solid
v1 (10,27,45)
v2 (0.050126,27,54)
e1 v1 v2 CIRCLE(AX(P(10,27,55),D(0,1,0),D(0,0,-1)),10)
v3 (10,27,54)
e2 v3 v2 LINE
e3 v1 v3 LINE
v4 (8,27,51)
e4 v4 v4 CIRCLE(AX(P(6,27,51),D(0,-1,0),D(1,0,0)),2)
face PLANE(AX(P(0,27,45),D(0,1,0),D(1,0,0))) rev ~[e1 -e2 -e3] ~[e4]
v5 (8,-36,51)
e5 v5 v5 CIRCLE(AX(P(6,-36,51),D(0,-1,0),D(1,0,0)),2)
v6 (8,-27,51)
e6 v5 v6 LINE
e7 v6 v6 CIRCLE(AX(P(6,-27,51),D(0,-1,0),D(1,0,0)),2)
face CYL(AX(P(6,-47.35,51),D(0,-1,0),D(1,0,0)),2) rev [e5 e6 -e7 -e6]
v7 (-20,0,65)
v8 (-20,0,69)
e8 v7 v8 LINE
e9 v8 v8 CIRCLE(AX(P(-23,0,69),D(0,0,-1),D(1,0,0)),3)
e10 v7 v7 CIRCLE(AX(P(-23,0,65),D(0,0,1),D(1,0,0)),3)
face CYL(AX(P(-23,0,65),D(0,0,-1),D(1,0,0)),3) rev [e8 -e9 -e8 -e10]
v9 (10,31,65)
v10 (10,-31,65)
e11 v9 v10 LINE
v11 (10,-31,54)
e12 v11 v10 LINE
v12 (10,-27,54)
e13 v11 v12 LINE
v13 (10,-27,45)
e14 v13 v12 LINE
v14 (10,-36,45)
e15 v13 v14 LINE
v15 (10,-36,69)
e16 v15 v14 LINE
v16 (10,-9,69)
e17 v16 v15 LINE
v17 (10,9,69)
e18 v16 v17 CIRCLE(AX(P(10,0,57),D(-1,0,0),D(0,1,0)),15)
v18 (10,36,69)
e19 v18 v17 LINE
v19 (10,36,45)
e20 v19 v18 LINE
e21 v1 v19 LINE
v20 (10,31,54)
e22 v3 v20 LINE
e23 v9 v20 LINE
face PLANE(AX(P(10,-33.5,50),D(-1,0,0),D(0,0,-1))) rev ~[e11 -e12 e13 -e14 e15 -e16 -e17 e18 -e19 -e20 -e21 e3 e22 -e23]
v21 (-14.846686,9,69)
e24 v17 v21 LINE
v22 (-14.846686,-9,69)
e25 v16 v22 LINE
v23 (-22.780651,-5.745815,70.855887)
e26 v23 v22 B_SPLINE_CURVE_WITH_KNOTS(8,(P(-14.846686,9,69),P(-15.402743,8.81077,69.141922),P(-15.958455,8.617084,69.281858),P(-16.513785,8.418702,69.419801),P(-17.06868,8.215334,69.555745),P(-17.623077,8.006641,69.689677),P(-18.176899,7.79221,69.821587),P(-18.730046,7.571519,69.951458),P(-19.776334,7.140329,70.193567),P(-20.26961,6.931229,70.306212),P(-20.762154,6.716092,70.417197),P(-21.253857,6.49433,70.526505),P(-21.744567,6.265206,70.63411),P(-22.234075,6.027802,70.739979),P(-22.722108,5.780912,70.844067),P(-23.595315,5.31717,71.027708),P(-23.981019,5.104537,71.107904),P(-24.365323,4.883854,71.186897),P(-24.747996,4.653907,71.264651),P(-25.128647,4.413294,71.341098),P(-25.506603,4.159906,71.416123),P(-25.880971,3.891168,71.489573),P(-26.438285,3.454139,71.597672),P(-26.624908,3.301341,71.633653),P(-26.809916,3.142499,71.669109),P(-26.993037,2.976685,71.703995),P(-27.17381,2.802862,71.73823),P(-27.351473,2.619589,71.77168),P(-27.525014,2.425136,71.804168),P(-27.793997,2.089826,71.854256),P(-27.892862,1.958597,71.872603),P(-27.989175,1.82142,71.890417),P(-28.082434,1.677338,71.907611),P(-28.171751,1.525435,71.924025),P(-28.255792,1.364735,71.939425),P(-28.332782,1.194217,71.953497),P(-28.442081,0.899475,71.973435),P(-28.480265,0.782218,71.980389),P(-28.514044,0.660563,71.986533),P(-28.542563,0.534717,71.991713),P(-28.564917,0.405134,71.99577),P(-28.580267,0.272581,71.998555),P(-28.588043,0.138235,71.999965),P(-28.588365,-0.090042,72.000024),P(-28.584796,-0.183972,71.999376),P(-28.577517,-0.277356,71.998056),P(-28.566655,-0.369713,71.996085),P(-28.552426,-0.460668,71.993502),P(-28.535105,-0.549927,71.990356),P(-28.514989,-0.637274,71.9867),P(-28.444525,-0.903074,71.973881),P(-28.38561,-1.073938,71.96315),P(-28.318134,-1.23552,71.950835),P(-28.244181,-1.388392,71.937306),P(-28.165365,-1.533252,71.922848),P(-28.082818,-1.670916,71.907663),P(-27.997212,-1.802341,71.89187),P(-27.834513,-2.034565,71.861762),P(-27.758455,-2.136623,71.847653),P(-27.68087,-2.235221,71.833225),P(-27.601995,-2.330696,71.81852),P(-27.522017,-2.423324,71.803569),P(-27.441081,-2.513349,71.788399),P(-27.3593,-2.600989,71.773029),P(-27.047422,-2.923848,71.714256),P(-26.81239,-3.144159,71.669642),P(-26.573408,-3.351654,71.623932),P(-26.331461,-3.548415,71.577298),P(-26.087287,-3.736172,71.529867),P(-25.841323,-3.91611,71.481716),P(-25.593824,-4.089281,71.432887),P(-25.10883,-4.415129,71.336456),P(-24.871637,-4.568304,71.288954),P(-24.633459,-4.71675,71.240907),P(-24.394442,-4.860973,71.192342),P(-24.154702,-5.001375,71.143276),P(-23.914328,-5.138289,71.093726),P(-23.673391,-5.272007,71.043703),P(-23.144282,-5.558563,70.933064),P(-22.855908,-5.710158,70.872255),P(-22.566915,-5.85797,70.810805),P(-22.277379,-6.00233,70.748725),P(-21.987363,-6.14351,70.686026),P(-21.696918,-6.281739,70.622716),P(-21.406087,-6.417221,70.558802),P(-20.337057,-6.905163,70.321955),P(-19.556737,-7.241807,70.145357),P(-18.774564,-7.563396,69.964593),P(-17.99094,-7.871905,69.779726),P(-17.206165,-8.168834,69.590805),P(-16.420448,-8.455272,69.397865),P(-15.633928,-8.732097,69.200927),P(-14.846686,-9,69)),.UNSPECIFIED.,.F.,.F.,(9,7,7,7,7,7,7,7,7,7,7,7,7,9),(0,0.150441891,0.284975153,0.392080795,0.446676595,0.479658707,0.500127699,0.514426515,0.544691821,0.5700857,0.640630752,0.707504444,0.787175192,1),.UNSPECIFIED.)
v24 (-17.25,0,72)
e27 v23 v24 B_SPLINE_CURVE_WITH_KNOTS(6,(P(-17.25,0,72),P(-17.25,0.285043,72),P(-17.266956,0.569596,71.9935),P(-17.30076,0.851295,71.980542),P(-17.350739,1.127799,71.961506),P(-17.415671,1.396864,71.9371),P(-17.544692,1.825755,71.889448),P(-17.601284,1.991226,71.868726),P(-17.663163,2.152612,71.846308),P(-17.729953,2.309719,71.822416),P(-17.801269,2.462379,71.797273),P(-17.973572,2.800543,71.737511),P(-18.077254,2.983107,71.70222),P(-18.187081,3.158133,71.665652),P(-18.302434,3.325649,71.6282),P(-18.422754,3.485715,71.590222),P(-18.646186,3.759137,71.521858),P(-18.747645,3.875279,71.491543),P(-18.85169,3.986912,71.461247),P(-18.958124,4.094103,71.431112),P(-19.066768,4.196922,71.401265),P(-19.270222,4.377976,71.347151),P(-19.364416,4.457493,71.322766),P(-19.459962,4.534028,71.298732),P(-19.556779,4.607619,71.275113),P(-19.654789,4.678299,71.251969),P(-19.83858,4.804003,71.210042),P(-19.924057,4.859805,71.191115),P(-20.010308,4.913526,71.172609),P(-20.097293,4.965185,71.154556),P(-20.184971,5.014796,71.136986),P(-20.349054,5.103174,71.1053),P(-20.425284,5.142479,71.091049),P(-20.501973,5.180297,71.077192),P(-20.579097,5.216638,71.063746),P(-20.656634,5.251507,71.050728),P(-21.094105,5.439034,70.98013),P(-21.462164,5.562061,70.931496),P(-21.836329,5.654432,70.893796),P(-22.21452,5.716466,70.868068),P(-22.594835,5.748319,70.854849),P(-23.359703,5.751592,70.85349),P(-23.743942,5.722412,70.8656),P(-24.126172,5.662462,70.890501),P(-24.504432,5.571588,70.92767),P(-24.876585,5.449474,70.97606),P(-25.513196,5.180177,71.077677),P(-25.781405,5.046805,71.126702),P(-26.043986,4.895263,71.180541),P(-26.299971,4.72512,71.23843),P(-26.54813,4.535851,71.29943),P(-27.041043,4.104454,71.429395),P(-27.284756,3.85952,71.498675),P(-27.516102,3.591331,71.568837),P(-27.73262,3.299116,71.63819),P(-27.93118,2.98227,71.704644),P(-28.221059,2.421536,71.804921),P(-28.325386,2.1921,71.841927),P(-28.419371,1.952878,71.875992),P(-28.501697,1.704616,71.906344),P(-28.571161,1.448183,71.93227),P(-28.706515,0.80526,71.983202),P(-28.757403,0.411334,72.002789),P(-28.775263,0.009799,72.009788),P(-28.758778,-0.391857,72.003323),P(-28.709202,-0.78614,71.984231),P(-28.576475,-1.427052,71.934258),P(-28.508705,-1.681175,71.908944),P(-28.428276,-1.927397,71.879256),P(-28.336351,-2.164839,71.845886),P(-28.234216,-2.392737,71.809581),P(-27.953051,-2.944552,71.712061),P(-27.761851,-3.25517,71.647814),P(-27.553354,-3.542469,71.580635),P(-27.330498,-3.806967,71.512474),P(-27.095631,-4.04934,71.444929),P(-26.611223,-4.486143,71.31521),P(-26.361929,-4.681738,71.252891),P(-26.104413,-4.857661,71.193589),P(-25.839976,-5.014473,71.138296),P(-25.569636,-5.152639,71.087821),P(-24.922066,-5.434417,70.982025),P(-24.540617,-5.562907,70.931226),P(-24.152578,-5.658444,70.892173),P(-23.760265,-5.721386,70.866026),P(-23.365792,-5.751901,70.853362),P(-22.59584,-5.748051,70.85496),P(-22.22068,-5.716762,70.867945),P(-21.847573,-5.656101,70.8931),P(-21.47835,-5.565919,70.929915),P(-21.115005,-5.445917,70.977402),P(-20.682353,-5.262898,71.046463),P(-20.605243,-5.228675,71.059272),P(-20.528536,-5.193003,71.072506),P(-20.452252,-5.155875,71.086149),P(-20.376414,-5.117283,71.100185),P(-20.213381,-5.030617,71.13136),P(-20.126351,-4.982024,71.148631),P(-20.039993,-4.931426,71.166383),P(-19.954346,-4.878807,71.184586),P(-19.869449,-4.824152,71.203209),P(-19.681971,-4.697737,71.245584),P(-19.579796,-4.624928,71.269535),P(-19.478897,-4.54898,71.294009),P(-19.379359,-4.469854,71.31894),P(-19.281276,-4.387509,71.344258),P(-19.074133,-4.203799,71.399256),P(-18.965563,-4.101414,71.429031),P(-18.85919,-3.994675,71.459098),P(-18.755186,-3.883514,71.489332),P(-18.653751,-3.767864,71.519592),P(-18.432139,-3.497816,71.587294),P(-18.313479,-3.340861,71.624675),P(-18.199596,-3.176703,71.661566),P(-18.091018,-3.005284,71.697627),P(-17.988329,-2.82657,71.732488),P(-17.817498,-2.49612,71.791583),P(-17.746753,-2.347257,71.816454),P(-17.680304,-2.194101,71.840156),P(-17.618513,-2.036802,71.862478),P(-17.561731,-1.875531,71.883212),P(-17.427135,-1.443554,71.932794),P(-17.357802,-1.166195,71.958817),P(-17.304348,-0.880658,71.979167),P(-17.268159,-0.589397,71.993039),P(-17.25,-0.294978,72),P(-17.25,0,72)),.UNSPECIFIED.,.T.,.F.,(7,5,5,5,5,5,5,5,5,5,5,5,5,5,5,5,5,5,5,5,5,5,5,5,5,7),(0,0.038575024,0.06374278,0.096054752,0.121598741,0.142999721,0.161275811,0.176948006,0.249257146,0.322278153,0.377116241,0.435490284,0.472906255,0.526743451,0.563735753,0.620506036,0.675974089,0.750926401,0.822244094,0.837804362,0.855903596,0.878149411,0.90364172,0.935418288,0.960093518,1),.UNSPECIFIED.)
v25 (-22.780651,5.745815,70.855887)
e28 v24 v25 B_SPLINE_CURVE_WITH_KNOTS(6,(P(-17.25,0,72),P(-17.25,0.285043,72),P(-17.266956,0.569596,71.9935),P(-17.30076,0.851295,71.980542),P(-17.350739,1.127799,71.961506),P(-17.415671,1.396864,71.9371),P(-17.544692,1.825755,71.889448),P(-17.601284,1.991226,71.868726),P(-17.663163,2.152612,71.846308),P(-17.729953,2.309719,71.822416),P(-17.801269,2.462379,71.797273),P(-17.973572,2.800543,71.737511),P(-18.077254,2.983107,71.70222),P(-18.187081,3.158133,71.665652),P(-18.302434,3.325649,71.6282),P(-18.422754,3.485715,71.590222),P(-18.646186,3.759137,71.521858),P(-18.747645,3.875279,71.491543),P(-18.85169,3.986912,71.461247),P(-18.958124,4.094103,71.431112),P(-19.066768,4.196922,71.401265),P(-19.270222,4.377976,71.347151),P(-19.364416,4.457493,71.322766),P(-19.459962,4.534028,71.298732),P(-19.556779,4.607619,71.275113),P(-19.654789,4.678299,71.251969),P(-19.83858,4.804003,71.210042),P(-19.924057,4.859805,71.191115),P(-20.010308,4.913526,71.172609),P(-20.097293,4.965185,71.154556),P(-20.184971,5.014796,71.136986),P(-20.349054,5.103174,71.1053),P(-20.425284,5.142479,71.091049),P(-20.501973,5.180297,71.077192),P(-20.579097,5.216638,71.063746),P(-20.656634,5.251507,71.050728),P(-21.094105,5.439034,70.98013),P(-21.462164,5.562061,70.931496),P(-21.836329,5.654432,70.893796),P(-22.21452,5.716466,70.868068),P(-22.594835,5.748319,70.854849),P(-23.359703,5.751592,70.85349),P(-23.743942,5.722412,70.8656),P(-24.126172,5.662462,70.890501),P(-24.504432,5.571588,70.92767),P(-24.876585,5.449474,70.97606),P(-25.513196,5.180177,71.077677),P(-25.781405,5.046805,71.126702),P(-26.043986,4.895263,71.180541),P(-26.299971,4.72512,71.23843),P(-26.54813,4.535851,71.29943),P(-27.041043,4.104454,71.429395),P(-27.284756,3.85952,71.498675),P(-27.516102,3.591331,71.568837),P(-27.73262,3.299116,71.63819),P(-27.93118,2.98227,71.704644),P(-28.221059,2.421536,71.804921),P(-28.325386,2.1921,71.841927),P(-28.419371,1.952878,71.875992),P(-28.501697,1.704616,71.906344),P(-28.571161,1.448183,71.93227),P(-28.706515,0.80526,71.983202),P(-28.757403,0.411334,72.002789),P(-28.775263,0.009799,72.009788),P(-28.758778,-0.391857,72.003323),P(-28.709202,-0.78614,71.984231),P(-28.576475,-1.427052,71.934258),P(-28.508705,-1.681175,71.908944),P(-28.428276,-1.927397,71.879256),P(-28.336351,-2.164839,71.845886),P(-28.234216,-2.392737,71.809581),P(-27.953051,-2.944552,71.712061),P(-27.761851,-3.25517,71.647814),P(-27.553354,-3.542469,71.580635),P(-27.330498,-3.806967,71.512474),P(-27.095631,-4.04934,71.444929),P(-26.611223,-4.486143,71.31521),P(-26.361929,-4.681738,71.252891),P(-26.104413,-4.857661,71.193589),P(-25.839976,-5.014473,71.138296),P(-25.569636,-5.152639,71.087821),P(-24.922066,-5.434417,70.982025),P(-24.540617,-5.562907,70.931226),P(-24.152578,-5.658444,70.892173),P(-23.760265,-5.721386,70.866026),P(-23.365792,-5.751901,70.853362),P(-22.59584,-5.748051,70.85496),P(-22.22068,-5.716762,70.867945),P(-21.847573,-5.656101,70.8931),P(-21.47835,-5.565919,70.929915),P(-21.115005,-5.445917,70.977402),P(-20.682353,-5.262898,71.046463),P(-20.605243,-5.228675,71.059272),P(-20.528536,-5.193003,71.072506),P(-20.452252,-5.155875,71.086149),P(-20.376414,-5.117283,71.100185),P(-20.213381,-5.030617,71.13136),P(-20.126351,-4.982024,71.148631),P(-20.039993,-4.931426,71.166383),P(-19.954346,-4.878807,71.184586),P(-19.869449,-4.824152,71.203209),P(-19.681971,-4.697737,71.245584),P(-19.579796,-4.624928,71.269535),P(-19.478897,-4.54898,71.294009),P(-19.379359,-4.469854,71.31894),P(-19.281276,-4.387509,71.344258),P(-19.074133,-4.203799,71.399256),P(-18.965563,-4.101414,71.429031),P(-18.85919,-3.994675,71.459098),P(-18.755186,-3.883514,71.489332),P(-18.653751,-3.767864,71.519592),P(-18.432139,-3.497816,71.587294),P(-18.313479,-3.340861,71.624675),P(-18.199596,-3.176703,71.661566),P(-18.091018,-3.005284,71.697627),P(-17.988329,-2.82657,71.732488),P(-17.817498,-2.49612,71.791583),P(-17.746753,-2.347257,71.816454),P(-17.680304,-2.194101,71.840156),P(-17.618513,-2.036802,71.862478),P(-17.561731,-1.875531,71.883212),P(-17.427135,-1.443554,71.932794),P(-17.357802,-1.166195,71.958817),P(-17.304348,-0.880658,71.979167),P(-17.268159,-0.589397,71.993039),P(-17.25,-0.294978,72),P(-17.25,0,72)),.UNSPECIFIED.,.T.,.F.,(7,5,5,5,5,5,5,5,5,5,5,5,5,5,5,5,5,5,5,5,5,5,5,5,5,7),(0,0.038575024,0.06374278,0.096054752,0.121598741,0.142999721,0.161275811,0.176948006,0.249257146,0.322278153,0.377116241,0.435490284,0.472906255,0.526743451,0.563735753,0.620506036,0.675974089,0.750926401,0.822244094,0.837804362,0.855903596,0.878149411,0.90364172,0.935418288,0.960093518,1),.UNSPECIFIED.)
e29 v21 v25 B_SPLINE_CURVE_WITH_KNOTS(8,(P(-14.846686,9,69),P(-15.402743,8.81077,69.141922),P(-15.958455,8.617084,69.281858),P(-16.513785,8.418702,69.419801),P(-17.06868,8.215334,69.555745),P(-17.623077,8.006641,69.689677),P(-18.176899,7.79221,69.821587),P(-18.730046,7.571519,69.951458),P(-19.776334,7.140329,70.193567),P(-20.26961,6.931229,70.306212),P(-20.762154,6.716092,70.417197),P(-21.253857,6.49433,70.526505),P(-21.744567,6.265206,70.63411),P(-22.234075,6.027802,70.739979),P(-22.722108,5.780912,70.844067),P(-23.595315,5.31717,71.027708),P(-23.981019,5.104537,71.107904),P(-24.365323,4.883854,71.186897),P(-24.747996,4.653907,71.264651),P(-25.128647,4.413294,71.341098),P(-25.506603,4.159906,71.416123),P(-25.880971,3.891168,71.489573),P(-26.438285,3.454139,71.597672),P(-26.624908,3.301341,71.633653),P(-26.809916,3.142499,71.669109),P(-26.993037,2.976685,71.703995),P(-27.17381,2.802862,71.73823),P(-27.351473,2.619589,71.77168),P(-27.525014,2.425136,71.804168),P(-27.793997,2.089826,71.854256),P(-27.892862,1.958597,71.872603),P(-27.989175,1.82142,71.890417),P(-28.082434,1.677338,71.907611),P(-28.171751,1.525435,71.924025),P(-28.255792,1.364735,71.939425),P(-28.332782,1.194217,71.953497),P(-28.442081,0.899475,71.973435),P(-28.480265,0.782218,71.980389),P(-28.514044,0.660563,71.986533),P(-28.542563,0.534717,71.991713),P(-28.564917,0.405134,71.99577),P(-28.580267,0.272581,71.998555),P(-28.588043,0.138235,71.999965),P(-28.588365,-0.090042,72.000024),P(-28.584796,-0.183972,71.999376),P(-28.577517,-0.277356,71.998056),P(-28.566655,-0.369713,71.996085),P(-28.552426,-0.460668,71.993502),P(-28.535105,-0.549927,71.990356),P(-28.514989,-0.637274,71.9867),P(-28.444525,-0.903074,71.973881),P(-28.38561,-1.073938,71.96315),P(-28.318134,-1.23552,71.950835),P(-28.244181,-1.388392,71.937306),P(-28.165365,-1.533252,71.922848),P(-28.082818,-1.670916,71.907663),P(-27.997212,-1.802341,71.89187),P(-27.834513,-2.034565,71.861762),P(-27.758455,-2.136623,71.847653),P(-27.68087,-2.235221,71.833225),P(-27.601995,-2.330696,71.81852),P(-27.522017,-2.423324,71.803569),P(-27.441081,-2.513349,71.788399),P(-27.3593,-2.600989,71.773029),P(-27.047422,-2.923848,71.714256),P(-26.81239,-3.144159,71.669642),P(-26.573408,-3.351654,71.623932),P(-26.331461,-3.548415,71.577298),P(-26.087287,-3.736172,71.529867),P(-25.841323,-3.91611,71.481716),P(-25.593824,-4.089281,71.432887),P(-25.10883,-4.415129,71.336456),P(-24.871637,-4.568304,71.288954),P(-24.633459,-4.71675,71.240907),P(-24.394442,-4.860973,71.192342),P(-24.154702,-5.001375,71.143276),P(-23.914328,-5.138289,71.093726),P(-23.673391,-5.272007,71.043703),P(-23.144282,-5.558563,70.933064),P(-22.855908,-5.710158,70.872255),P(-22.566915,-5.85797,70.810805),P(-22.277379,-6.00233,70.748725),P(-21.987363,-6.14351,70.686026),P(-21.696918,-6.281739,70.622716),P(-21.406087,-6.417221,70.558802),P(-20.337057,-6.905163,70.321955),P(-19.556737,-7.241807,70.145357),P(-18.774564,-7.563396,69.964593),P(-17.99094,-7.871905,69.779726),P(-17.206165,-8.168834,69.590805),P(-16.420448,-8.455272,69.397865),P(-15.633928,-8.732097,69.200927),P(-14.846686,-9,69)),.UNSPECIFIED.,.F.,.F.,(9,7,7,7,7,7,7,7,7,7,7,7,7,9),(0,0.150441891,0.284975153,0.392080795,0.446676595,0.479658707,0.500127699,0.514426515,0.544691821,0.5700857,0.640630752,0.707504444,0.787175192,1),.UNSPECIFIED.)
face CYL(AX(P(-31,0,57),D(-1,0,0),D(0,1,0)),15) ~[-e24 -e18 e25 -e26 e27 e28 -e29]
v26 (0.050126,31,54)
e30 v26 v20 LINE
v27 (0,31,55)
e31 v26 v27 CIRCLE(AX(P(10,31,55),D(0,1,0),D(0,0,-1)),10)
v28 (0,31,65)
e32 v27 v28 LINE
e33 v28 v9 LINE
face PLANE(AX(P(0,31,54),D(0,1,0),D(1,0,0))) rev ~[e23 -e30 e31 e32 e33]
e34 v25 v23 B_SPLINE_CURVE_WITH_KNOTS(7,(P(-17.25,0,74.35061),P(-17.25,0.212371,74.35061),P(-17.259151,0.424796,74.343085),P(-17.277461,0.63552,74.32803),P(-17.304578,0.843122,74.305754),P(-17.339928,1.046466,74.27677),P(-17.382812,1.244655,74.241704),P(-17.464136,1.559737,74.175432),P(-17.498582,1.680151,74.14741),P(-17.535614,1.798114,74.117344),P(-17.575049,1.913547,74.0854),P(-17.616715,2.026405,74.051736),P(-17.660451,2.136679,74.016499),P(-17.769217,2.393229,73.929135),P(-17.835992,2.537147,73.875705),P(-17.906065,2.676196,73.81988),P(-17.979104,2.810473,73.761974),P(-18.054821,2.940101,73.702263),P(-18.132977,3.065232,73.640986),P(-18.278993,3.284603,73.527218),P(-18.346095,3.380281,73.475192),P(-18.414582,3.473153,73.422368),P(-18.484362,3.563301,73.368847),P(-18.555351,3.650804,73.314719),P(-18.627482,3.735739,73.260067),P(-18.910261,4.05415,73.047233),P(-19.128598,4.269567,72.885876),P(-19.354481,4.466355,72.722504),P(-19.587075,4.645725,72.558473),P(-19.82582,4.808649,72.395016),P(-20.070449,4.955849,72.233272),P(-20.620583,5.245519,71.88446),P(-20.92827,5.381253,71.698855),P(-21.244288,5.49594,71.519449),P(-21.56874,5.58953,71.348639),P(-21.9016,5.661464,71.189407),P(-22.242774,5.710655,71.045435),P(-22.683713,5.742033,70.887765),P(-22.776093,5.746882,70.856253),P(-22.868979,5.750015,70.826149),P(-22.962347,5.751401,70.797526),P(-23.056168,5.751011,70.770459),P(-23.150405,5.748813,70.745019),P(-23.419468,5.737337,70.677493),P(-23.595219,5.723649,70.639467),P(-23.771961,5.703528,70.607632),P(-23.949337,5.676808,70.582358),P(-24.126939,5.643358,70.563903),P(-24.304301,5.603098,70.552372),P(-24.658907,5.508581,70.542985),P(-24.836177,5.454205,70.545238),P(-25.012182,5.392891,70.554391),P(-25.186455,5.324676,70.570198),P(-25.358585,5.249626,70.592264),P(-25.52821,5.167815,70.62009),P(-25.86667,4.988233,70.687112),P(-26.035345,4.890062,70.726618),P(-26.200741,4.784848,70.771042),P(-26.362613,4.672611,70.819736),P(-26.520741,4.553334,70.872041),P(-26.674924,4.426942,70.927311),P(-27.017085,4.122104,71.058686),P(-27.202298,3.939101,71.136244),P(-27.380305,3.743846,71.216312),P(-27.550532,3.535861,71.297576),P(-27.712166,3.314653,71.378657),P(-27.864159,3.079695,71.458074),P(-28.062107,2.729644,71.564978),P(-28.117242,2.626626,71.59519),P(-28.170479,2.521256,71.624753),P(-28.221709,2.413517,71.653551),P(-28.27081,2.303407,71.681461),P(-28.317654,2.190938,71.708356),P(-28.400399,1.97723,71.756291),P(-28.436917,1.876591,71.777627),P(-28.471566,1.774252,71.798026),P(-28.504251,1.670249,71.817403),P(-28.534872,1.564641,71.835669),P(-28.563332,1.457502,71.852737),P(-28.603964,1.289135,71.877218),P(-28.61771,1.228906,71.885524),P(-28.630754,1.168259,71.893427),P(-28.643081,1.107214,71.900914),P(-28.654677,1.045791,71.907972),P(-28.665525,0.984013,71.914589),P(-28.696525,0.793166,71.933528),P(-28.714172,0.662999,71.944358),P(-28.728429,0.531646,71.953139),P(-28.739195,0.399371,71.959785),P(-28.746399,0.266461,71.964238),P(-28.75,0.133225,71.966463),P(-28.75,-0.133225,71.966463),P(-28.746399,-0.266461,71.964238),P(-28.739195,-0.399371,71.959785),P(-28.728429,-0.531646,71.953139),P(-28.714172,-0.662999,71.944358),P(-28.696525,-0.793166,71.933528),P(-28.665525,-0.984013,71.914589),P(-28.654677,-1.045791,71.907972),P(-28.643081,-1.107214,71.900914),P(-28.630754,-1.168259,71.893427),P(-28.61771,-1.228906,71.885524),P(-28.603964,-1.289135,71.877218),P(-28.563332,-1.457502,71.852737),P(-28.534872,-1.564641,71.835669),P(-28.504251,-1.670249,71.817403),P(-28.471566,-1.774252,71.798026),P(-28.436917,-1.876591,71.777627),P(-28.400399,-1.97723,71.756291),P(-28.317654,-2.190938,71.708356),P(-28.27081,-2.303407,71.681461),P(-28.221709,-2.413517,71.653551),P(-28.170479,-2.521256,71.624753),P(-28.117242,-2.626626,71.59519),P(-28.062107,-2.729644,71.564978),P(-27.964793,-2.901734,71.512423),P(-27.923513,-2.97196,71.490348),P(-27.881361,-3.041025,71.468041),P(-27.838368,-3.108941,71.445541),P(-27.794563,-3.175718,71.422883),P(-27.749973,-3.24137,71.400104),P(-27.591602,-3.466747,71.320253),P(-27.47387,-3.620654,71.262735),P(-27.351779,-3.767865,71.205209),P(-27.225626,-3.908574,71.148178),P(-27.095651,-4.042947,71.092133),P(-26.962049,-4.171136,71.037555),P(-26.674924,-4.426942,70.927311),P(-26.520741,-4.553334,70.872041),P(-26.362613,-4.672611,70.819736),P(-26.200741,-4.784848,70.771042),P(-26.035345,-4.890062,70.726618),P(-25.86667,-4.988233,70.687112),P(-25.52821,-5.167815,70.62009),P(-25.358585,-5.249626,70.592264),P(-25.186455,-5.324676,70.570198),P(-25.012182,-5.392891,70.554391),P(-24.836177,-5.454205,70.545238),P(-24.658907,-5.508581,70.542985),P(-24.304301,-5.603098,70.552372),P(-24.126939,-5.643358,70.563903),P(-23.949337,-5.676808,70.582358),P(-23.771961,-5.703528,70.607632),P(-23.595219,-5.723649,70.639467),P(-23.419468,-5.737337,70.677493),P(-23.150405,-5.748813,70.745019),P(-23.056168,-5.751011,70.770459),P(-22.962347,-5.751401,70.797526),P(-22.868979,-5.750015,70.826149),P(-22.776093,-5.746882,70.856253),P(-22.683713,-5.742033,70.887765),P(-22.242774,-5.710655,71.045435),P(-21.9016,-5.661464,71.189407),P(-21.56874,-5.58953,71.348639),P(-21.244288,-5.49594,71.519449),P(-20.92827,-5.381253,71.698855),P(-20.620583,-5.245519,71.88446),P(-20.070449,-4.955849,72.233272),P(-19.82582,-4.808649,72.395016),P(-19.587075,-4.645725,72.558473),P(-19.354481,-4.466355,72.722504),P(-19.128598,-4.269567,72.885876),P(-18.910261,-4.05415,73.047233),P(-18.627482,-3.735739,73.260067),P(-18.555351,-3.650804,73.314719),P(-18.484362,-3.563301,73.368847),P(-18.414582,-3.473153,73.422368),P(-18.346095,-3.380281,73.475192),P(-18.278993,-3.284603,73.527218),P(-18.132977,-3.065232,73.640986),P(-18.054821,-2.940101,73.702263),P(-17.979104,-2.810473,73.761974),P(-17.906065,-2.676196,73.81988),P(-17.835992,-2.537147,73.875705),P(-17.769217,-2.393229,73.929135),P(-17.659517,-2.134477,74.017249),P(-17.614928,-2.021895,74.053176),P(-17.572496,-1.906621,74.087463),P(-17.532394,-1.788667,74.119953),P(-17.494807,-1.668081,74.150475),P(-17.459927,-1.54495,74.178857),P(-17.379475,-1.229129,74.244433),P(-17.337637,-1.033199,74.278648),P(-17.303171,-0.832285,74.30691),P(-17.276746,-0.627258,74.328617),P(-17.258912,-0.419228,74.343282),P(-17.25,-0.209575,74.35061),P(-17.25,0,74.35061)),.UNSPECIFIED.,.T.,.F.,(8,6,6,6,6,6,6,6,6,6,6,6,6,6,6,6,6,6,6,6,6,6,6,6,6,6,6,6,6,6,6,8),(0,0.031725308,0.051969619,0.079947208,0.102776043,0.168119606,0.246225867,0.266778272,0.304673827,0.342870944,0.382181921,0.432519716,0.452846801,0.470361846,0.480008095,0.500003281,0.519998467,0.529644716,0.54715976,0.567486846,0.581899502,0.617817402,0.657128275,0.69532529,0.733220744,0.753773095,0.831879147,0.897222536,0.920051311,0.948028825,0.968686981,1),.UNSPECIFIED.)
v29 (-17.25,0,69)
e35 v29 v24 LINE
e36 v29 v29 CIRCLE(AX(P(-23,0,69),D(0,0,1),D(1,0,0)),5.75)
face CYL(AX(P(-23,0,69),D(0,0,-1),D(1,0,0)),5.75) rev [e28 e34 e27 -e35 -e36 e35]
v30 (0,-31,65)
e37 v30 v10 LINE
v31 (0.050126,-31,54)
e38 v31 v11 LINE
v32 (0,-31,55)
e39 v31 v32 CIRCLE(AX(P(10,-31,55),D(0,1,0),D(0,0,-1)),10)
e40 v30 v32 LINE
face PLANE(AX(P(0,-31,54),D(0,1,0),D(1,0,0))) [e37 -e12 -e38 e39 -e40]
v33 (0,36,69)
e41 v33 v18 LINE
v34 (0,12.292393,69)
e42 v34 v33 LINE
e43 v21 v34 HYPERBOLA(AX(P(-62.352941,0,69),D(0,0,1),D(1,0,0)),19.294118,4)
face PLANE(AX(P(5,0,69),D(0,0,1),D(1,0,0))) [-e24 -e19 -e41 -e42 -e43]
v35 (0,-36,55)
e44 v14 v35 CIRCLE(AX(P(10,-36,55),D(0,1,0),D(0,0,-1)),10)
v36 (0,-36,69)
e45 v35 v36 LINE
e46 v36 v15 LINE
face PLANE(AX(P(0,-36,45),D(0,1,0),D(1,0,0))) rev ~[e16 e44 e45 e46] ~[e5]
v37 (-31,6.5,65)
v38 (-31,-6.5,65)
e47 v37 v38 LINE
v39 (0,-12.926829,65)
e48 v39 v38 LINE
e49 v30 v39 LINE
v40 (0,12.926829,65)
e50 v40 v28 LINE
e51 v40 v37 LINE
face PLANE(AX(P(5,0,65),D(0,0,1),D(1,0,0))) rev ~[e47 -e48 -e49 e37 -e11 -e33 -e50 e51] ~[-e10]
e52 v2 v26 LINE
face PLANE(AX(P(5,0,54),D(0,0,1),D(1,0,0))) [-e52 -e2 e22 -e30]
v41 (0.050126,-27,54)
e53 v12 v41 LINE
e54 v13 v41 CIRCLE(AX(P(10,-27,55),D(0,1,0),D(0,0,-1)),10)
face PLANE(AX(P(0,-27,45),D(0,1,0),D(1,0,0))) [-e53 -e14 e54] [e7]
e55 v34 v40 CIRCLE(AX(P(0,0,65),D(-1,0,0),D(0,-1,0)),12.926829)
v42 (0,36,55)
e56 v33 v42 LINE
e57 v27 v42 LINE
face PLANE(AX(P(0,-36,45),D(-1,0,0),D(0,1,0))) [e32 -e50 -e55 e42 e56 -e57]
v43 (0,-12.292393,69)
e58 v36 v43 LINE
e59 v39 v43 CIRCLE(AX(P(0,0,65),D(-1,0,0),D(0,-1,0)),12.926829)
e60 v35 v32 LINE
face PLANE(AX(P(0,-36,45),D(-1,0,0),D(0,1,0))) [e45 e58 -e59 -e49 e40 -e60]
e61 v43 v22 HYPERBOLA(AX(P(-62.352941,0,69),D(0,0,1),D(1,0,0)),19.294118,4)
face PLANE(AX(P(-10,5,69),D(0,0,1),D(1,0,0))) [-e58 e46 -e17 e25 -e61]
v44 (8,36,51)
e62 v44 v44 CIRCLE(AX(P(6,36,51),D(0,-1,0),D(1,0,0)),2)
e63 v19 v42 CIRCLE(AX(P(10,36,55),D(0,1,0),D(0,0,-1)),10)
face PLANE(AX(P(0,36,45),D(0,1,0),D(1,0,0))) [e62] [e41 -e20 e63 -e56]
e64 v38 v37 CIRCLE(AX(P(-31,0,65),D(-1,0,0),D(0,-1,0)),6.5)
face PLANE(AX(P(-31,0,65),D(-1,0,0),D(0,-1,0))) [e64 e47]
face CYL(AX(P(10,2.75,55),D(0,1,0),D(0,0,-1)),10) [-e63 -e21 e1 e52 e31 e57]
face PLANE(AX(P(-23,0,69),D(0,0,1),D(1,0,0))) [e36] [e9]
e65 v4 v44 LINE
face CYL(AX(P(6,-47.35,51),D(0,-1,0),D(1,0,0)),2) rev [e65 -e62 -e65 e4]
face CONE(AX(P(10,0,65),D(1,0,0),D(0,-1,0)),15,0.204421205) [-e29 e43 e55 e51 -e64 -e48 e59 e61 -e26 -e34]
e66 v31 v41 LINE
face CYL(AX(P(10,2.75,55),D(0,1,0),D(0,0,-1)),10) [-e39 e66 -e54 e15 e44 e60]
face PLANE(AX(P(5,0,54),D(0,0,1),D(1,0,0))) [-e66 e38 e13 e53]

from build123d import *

# Parameters (mm, degrees)
BOX004_W          = 42
BOX004_H          = 82
BOX004_DEPTH      = 14
CYLINDER017_W     = 10
CYLINDER017_H     = 87
CYLINDER017_ANGLE = 90
CYLINDER018_R     = 15
CYLINDER018_DEPTH = 42
CYLINDER014_R     = 5.75
CYLINDER014_DEPTH = 10
CYLINDER013_R     = 3
CYLINDER013_DEPTH = 10
CYLINDER016_R     = 2
CYLINDER016_DEPTH = 94
CONE_ANGLE        = 180
CYLINDER001_W     = 10
CYLINDER001_H     = 5
CYLINDER001_ANGLE = 90
BOX002_W          = 10
BOX002_H          = 54
BOX002_DEPTH      = 11
BOX001_W          = 10
BOX001_H          = 62
BOX001_DEPTH      = 11
BOX_W             = 10
BOX_H             = 72
BOX_DEPTH         = 24
CYLINDER_W        = 10
CYLINDER_H        = 5
CYLINDER_ANGLE    = 90


with BuildPart() as include:
    # Box004 → Box004 (new body)
    with BuildSketch(Plane(origin=(-31, -36, 55), x_dir=(1, 0, 0), z_dir=(0, 0, 1))):
        with Locations((21, 41)):
            Rectangle(BOX004_W, BOX004_H)
    extrude(amount=BOX004_DEPTH)


with BuildPart() as include001:
    # Cylinder017 → Cylinder017 (revolve)
    with BuildSketch(Plane(origin=(10, -40.75, 55), x_dir=(0, 0, -1), z_dir=(1, 0, 0))):
        with Locations((5, 43.5)):
            Rectangle(CYLINDER017_W, CYLINDER017_H)
    revolve(axis=Axis((10, -40.75, 55), (0, 1, 0)), revolution_arc=CYLINDER017_ANGLE)


with BuildPart() as include002:
    # Cylinder018 → Cylinder018 (new body)
    with BuildSketch(Plane(origin=(-31, 0, 57), x_dir=(0, 1, 0), z_dir=(1, 0, 0))):
        Circle(CYLINDER018_R)
    extrude(amount=CYLINDER018_DEPTH)

    # Fusion005: union include, include001
    add(include.part)
    add(include001.part)


with BuildPart() as antennain001:
    # Cylinder014 → Cylinder014 (new body)
    with BuildSketch(Plane(origin=(-23, 0, 69), x_dir=(1, 0, 0), z_dir=(0, 0, 1))):
        Circle(CYLINDER014_R)
    extrude(amount=CYLINDER014_DEPTH)


with BuildPart() as fusion003:
    # Cylinder013 → Cylinder013 (new body)
    with BuildSketch(Plane(origin=(-23, 0, 65), x_dir=(1, 0, 0), z_dir=(0, 0, 1))):
        Circle(CYLINDER013_R)
    extrude(amount=CYLINDER013_DEPTH)

    # Fusion003: union antennaIn001
    add(antennain001.part)


with BuildPart() as m3heastsetcut:
    # Cylinder016 → Cylinder016 (new body)
    with BuildSketch(Plane(origin=(6, -47.35, 51), x_dir=(1, 0, 0), z_dir=(0, 1, 0))):
        Circle(CYLINDER016_R)
    extrude(amount=CYLINDER016_DEPTH)


with BuildPart() as cone:
    # Cone → Cone (revolve)
    with BuildSketch(Plane(origin=(10, 0, 65), x_dir=(0, -1, 0), z_dir=(0, 0, -1))):
        Polygon((0, 0), (15, 0), (6.5, 41), (0, 41), align=None)
    revolve(axis=Axis((10, 0, 65), (-1, 0, 0)), revolution_arc=CONE_ANGLE)


with BuildPart() as cylinder001:
    # Cylinder001 → Cylinder001 (revolve)
    with BuildSketch(Plane(origin=(10, -31, 55), x_dir=(-1, 0, 0), z_dir=(0, 0, 1))):
        with Locations((5, 2.5)):
            Rectangle(CYLINDER001_W, CYLINDER001_H)
    revolve(axis=Axis((10, -31, 55), (0, -1, 0)), revolution_arc=CYLINDER001_ANGLE)


with BuildPart() as in001:
    # Box002 → Box002 (new body)
    with BuildSketch(Plane(origin=(0, -27, 45), x_dir=(1, 0, 0), z_dir=(0, 0, 1))):
        with Locations((5, 27)):
            Rectangle(BOX002_W, BOX002_H)
    extrude(amount=BOX002_DEPTH)


with BuildPart() as in002:
    # Box001 → Box001 (new body)
    with BuildSketch(Plane(origin=(0, -31, 54), x_dir=(1, 0, 0), z_dir=(0, 0, 1))):
        with Locations((5, 31)):
            Rectangle(BOX001_W, BOX001_H)
    extrude(amount=BOX001_DEPTH)

    # Fusion: union in001
    add(in001.part)


with BuildPart() as cut:
    # Box → Box (new body)
    with BuildSketch(Plane(origin=(0, -36, 45), x_dir=(1, 0, 0), z_dir=(0, 0, 1))):
        with Locations((5, 36)):
            Rectangle(BOX_W, BOX_H)
    extrude(amount=BOX_DEPTH)

    # Cut: cut in002
    add(in002.part, mode=Mode.SUBTRACT)


with BuildPart() as common:
    # Cylinder → Cylinder (revolve)
    with BuildSketch(Plane(origin=(10, 31, 55), x_dir=(0, 0, -1), z_dir=(1, 0, 0))):
        with Locations((5, 2.5)):
            Rectangle(CYLINDER_W, CYLINDER_H)
    revolve(axis=Axis((10, 31, 55), (0, 1, 0)), revolution_arc=CYLINDER_ANGLE)

    # Fusion001: union Cylinder001, Cut
    add(cylinder001.part)
    add(cut.part)

    # Fusion004: union Cone
    add(cone.part)

    # Cut001: cut m3HeastSetCut
    add(m3heastsetcut.part, mode=Mode.SUBTRACT)

    # Cut002: cut Fusion003
    add(fusion003.part, mode=Mode.SUBTRACT)

    # Common: intersect include002
    add(include002.part, mode=Mode.INTERSECT)


solid = common.part
